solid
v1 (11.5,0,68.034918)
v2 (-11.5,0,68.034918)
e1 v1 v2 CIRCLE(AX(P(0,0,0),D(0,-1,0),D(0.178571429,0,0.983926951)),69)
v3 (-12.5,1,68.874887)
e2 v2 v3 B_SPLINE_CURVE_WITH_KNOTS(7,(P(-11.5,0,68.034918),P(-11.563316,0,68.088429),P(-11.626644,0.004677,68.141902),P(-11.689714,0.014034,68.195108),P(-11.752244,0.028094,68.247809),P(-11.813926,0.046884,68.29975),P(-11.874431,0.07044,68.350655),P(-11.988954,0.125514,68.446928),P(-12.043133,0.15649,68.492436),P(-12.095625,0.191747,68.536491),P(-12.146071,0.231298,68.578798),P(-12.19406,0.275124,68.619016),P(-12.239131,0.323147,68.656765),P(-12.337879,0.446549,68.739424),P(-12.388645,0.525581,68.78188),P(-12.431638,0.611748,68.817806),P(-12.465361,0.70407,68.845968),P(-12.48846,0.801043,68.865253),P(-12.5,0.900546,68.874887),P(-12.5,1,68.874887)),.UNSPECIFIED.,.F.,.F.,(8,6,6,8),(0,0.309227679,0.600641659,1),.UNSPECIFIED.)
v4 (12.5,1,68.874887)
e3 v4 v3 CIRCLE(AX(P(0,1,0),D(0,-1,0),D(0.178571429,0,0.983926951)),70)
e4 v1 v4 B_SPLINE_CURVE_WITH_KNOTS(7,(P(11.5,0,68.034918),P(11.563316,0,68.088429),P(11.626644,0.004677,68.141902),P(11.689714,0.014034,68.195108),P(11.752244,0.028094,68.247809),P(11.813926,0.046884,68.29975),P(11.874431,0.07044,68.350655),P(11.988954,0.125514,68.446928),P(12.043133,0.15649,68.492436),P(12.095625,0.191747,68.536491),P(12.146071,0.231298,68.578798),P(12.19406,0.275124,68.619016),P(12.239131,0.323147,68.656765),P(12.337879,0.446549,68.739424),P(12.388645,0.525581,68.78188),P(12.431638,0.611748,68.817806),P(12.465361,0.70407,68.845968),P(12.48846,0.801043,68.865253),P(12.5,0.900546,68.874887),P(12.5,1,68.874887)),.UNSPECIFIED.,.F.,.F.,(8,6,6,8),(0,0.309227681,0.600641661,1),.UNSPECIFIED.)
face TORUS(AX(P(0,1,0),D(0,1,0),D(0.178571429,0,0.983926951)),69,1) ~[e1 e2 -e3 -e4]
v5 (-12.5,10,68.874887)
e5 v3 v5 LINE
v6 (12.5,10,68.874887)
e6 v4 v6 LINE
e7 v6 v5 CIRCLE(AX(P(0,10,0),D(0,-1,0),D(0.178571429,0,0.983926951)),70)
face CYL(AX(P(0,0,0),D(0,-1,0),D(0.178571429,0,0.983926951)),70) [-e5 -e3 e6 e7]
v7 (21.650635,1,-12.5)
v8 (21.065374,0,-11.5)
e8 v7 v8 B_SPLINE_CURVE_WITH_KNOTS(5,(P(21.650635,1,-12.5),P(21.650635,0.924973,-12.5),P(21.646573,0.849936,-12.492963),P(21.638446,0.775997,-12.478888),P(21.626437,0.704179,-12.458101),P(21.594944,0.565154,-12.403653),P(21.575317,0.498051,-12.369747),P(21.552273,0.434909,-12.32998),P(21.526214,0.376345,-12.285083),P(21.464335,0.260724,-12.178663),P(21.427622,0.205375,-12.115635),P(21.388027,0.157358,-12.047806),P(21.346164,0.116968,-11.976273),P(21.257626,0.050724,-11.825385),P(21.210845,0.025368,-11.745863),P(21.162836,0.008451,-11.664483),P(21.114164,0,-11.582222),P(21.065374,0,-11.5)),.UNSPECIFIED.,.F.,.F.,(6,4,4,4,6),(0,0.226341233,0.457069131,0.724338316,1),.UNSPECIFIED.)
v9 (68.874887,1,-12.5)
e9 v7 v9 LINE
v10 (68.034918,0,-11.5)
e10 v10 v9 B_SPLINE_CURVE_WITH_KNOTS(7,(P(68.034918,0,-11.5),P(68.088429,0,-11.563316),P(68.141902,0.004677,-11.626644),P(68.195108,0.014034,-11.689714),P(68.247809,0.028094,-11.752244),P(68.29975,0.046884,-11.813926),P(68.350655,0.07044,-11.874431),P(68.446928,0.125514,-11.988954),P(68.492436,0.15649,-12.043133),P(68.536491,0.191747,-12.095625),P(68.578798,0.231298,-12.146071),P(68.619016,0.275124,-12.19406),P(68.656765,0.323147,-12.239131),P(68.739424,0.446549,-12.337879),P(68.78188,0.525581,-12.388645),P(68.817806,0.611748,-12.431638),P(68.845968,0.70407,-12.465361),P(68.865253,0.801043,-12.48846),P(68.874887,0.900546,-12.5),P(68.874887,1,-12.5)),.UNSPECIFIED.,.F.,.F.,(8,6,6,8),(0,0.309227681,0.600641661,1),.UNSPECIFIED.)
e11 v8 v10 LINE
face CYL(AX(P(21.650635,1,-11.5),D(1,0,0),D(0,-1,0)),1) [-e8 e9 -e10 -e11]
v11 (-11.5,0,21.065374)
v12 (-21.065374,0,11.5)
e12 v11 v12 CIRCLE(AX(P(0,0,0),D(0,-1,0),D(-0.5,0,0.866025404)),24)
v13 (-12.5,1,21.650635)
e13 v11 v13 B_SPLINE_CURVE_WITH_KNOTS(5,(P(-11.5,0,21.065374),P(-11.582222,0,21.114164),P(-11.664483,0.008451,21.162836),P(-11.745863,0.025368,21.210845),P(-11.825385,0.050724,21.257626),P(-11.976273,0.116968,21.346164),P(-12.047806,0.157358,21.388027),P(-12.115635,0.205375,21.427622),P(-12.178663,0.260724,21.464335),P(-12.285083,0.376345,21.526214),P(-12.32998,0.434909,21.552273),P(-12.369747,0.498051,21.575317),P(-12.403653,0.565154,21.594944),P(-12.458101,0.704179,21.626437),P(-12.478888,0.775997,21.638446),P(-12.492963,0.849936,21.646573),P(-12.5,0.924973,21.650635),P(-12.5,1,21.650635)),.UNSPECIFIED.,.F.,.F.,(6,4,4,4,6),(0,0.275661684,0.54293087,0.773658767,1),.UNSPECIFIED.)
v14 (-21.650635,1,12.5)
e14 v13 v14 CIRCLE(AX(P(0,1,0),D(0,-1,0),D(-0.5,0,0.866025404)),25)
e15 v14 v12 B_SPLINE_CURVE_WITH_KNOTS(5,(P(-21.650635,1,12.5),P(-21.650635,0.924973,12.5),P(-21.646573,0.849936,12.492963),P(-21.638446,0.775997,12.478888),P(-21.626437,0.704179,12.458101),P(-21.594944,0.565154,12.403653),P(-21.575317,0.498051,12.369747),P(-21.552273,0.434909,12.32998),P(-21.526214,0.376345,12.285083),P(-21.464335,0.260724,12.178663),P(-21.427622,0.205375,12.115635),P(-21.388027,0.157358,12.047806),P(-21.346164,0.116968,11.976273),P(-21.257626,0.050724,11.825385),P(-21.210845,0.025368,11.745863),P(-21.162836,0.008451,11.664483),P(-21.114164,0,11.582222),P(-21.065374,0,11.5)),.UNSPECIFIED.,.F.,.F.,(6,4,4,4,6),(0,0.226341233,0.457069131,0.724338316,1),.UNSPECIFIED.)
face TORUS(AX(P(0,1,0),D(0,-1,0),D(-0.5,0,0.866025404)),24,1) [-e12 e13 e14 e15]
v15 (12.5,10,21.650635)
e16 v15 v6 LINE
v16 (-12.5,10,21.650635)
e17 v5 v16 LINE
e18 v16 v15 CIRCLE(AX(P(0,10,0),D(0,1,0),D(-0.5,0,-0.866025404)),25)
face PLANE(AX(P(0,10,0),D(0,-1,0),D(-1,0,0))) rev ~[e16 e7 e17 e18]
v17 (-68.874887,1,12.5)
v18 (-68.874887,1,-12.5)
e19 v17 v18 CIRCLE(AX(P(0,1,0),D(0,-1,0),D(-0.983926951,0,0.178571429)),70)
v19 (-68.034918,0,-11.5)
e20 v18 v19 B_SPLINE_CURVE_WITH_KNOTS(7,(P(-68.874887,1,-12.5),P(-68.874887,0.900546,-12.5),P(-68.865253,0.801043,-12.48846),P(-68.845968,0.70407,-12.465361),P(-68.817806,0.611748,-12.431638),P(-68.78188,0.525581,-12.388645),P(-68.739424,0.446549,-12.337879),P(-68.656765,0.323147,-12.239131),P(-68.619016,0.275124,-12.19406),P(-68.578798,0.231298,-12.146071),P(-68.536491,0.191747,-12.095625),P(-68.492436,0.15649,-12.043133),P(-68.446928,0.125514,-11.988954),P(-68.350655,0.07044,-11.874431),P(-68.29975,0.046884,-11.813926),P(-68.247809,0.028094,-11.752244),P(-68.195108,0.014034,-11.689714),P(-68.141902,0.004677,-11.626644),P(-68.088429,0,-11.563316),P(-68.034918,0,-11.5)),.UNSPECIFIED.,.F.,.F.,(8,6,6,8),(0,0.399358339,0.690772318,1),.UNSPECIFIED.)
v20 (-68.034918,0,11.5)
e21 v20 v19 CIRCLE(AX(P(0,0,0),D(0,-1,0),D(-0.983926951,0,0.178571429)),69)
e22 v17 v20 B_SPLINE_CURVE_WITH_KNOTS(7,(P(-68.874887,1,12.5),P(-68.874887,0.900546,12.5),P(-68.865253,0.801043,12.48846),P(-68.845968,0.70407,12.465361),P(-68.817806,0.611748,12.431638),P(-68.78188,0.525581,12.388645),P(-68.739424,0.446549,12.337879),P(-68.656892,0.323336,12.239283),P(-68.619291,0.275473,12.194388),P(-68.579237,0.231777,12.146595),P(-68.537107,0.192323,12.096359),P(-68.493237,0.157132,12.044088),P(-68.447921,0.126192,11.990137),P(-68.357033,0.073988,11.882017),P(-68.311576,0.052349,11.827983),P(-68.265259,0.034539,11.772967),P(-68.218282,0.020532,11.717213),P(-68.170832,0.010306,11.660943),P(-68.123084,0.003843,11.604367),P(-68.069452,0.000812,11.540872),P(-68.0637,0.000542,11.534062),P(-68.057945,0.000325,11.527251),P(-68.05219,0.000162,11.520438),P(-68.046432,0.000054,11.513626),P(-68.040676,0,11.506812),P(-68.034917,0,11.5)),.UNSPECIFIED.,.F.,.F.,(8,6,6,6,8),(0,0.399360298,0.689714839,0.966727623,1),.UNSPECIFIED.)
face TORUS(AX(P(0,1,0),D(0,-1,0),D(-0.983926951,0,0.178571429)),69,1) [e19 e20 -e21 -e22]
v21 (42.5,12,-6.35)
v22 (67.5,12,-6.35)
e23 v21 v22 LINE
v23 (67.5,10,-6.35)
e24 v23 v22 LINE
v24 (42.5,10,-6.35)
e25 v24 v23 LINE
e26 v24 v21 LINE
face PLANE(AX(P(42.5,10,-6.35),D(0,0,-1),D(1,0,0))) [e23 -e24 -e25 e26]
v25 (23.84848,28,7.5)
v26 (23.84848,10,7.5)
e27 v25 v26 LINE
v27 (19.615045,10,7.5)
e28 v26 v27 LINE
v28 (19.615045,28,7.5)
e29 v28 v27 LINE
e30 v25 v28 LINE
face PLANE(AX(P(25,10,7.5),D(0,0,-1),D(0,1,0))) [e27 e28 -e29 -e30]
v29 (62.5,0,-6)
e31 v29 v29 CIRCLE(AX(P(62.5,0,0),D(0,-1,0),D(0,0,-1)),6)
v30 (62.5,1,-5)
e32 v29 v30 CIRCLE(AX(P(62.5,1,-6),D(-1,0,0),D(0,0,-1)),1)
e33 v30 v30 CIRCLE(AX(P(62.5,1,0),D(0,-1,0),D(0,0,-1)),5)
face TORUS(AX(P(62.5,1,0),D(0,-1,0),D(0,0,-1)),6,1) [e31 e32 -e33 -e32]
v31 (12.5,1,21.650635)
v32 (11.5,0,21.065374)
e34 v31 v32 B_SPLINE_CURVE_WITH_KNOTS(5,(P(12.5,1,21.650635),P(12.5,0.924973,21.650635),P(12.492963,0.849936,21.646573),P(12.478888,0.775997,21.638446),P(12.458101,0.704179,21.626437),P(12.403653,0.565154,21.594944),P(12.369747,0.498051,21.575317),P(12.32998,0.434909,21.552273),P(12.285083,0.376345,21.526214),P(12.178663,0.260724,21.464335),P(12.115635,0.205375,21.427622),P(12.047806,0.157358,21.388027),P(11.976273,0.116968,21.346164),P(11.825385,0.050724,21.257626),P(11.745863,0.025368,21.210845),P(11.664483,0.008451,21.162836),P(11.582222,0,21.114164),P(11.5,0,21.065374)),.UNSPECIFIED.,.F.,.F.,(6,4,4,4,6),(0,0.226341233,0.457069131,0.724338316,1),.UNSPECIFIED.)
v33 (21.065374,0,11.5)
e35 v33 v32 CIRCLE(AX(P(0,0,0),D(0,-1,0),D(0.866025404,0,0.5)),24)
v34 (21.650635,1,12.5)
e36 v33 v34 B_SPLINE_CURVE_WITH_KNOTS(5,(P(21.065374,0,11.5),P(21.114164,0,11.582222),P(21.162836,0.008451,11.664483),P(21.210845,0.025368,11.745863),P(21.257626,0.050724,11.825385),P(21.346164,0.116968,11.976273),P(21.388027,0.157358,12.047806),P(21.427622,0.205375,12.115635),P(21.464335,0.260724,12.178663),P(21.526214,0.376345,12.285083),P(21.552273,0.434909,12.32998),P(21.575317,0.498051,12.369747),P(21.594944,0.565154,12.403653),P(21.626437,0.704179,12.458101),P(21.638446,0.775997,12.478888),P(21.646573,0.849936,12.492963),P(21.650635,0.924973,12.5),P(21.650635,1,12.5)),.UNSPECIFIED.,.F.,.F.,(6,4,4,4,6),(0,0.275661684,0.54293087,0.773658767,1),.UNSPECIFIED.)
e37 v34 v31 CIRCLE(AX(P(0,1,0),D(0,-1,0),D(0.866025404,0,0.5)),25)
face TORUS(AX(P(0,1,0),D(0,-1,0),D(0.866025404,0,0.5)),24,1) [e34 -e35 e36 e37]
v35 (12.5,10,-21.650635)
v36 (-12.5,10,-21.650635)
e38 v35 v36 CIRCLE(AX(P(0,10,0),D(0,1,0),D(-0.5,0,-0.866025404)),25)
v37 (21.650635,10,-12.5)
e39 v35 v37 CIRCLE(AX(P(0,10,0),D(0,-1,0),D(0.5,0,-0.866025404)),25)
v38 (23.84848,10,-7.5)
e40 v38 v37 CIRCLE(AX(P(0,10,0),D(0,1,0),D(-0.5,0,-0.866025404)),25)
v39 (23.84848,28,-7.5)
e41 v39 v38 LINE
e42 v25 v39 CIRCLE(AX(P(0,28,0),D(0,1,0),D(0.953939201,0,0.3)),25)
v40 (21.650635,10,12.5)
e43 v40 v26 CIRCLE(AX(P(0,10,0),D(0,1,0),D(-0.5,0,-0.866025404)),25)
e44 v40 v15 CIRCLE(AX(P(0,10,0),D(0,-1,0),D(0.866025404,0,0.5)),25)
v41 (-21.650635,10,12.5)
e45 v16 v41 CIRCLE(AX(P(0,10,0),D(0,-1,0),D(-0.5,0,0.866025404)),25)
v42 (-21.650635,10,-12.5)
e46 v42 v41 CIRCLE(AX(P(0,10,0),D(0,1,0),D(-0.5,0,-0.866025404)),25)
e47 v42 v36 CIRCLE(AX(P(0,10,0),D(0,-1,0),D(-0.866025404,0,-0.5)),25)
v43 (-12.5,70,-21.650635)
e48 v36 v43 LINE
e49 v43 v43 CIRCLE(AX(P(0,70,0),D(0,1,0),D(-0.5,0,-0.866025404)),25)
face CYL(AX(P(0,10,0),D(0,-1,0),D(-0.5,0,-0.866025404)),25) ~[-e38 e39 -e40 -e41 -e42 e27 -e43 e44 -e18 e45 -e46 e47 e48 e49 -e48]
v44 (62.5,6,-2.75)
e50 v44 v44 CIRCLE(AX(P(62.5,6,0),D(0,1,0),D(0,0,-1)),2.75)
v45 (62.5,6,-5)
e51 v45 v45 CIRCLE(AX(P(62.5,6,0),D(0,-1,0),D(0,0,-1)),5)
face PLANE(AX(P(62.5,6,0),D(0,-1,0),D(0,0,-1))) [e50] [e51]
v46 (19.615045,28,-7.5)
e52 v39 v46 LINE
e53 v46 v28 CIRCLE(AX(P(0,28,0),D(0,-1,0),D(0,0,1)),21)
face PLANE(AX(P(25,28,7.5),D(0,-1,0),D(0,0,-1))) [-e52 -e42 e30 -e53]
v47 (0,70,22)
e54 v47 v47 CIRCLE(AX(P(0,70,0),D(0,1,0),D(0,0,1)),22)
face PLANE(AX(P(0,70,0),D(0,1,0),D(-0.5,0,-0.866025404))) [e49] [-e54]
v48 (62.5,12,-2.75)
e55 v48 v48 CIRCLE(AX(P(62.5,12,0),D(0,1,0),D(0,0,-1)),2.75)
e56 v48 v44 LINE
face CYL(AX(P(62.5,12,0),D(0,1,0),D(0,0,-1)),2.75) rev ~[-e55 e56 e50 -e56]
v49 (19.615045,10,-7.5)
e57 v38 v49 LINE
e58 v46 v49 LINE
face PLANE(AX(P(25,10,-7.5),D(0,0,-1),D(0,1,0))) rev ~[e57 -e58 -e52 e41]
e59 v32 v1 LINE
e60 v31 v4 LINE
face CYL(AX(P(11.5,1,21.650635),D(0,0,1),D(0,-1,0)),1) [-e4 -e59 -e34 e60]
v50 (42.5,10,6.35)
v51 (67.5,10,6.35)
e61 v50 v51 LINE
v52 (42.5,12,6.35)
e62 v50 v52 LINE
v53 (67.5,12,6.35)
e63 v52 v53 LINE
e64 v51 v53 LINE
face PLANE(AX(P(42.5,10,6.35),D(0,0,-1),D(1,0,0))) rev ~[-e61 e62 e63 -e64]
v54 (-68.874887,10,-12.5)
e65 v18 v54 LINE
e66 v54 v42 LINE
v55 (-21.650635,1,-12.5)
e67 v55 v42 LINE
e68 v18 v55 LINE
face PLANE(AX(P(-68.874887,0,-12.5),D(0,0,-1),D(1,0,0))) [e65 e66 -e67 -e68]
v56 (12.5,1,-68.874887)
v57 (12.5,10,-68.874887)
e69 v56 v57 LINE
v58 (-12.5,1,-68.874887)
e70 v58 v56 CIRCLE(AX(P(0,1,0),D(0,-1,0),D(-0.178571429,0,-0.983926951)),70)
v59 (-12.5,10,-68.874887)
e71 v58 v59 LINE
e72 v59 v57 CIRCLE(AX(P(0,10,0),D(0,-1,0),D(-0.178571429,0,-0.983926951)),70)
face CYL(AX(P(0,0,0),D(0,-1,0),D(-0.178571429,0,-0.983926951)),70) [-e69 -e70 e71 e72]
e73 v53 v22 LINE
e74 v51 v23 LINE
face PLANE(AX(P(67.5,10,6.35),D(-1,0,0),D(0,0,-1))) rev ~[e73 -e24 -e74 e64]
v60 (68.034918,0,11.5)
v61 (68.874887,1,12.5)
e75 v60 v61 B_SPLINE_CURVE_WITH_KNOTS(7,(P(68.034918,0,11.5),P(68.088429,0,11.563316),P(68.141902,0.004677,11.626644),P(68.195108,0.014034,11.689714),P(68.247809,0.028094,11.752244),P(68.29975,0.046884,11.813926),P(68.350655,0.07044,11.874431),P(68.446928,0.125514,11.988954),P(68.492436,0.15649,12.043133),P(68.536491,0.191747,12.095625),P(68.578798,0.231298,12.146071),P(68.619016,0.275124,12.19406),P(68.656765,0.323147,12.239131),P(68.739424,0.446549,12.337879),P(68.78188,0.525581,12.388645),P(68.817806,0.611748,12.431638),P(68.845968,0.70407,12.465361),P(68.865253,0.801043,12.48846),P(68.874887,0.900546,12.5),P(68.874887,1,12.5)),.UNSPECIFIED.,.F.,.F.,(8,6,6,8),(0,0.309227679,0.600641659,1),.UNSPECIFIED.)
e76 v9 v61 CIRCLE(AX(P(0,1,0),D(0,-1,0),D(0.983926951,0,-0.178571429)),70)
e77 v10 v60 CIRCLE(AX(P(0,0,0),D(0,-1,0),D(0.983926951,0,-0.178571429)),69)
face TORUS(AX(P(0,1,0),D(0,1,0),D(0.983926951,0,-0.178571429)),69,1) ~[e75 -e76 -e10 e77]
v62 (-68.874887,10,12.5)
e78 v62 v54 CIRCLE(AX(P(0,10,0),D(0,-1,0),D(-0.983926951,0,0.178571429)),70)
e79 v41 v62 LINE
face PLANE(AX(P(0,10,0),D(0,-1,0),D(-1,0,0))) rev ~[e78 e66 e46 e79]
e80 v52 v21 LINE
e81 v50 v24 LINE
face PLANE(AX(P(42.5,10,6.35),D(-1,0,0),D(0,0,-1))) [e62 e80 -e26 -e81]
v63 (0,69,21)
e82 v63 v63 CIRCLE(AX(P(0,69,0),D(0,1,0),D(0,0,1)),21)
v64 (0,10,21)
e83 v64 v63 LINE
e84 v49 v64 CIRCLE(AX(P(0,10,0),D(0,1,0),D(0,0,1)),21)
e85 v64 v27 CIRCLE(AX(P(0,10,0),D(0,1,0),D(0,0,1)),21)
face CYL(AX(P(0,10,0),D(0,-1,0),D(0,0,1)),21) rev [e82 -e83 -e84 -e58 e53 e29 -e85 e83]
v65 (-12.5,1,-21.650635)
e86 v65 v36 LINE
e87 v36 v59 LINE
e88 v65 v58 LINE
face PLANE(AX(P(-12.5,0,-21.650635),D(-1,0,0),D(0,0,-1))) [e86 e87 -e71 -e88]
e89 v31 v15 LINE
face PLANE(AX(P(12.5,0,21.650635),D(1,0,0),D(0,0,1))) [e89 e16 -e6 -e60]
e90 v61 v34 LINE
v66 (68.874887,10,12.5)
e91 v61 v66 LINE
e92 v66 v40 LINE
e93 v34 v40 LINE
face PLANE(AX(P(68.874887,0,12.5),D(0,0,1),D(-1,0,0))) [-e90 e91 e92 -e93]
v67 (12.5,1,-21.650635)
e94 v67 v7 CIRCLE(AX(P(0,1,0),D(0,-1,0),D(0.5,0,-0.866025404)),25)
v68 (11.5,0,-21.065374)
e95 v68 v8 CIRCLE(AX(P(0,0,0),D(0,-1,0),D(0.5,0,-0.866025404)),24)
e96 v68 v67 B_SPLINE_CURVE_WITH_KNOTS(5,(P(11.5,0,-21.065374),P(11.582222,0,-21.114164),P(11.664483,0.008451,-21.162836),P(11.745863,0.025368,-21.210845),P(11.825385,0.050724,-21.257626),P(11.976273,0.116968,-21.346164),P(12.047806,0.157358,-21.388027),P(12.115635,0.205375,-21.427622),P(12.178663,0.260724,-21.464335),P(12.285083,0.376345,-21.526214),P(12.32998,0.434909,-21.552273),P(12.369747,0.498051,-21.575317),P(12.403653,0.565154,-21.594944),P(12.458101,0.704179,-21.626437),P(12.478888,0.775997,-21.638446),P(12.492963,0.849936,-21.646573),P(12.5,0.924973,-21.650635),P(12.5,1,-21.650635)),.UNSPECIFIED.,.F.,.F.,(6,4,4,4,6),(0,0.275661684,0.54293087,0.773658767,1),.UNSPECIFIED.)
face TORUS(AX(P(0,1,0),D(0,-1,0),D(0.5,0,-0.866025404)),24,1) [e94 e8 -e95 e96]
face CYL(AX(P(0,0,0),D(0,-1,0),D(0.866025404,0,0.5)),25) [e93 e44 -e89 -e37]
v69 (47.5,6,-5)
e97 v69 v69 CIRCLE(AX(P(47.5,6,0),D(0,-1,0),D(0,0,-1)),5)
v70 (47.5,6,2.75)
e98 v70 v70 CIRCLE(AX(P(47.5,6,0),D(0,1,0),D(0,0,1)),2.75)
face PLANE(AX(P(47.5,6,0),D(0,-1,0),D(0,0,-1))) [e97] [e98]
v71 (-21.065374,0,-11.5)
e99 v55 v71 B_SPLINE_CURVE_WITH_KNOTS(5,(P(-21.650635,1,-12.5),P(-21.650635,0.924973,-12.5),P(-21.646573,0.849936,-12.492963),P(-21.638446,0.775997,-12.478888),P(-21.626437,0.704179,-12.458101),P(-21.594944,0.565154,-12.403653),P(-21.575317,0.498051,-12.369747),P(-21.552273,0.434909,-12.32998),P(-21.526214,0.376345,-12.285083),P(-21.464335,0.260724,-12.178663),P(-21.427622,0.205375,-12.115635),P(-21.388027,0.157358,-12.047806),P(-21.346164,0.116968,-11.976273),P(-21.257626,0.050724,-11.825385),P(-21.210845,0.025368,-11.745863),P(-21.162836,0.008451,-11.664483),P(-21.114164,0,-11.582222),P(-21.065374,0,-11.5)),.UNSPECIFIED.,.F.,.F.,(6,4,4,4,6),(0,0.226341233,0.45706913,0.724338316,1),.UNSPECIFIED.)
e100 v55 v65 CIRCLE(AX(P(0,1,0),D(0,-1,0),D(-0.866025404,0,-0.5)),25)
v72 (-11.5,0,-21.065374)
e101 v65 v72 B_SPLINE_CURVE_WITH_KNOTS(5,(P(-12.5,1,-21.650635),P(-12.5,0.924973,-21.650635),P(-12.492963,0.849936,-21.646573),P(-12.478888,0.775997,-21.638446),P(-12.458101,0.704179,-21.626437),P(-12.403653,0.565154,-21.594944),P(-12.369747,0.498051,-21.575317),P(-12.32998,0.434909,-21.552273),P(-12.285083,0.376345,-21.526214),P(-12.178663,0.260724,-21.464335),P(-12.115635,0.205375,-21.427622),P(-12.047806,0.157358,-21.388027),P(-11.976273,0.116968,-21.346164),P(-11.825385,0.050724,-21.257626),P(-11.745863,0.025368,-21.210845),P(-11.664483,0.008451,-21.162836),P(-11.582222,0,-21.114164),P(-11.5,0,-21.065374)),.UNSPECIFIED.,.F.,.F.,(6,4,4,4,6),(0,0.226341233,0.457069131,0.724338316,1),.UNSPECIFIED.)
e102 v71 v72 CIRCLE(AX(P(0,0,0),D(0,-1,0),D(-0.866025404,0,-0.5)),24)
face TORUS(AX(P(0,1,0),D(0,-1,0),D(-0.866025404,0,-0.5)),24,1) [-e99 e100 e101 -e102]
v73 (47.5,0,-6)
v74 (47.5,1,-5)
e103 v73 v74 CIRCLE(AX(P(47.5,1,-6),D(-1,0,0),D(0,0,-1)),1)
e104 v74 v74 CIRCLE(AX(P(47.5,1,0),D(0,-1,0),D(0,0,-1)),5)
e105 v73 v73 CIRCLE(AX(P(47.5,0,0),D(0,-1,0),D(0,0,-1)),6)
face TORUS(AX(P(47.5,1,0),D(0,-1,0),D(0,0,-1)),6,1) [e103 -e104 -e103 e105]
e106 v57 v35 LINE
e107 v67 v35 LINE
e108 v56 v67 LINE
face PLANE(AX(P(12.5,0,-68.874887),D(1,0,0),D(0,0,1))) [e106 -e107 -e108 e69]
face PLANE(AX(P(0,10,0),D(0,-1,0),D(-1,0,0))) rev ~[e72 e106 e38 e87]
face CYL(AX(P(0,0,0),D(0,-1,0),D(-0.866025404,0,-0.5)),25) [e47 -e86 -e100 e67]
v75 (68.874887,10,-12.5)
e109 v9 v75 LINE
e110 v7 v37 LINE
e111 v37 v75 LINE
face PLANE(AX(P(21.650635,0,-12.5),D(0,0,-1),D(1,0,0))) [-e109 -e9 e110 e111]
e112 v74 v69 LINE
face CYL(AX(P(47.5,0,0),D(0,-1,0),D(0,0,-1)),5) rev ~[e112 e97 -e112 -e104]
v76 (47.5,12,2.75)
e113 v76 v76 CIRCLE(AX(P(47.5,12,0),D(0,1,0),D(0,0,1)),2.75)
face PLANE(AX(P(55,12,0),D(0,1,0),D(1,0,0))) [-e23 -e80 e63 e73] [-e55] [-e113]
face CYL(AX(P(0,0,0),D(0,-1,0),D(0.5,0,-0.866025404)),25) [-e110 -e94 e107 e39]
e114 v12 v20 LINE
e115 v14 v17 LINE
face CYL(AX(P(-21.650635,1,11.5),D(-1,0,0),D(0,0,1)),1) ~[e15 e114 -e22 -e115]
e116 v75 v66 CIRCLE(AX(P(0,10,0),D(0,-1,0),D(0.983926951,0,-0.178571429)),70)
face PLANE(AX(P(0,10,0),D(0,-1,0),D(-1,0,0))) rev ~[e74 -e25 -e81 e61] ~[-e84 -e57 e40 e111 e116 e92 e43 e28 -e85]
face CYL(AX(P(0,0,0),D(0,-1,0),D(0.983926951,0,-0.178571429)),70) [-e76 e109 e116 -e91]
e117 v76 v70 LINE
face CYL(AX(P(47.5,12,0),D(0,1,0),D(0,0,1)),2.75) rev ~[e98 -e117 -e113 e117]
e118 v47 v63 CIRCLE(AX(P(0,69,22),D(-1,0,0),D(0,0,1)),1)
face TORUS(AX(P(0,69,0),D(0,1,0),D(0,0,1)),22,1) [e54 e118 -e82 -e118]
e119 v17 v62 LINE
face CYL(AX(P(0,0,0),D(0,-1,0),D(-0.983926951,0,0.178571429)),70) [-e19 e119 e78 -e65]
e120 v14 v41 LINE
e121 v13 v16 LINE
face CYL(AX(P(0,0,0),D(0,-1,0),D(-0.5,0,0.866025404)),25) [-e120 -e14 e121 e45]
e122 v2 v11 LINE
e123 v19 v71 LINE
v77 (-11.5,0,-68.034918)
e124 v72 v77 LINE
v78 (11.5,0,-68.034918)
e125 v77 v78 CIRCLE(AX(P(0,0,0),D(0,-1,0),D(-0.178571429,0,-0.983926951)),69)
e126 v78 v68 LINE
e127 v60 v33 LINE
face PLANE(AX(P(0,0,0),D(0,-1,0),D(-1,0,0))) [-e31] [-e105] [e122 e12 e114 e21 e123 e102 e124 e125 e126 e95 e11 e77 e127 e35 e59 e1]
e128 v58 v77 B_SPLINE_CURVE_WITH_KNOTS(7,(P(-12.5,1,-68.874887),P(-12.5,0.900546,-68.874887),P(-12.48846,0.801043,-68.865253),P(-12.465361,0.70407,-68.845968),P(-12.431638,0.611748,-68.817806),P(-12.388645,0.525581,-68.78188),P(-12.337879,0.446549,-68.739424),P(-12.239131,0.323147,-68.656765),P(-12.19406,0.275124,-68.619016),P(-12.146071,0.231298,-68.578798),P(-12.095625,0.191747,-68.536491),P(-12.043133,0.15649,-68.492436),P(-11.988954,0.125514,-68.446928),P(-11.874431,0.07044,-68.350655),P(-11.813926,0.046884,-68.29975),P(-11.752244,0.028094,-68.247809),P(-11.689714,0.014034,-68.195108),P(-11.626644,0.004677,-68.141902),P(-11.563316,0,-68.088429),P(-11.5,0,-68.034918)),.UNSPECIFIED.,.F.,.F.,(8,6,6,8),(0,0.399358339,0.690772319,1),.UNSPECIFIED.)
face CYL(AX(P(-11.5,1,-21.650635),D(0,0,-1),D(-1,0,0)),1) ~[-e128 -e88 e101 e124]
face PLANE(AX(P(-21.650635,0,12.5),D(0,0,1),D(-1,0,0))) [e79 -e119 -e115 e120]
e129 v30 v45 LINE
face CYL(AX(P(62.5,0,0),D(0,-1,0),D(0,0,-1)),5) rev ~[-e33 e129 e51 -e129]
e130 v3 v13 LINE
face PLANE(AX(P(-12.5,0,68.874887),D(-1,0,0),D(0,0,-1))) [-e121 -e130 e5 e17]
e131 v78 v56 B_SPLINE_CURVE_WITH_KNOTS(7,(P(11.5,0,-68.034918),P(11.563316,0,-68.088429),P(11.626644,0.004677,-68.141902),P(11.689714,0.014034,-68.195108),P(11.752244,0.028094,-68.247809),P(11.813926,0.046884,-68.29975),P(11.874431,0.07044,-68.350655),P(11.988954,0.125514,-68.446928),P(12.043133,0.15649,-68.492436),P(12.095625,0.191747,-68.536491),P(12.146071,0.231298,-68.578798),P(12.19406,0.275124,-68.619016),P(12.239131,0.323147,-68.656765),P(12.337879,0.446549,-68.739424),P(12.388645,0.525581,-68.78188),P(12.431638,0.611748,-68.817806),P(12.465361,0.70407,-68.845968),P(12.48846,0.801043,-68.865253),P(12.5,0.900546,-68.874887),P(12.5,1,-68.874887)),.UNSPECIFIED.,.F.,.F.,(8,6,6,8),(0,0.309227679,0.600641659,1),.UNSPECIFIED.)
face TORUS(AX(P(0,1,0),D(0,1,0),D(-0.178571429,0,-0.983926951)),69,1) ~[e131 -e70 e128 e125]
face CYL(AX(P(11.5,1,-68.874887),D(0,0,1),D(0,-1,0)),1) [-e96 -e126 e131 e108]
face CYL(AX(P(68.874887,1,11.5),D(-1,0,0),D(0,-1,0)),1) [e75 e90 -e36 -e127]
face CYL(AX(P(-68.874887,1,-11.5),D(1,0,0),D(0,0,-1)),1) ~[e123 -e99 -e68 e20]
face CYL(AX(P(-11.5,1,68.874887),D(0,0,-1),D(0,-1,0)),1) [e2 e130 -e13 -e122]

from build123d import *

# Parameters (mm, degrees)
BOSS_EXTRUDE1_DEPTH = 10
SKETCH2_R           = 25
SKETCH2_R_2         = 21
BOSS_EXTRUDE2_DEPTH = 60
SKETCH3_W           = 15
SKETCH3_H           = 18
CUT_EXTRUDE1_DEPTH  = 10
SKETCH4_W           = 25
SKETCH4_H           = 12.7
BOSS_EXTRUDE3_DEPTH = 2
SKETCH5_R           = 2.75
CUT_EXTRUDE2_DEPTH  = 115.734476074
SKETCH6_R           = 5
CUT_EXTRUDE3_DEPTH  = 6
FILLET1_R           = 1


with BuildPart() as part:
    # Sketch1 → Boss-Extrude1 (new body)
    with BuildSketch(Plane(origin=(0, 0, 0), x_dir=(1, 0, 0), z_dir=(0, 1, 0))):
        with BuildLine():
            Line((-68.87488657, 12.5), (-21.650635095, 12.5))
            ThreePointArc((-21.650635095, 12.5), (-17.67766953, 17.67766953), (-12.5, 21.650635095))
            Line((-12.5, 21.650635095), (-12.5, 68.87488657))
            ThreePointArc((-12.5, 68.87488657), (0, 70), (12.5, 68.87488657))
            Line((12.5, 68.87488657), (12.5, 21.650635095))
            ThreePointArc((12.5, 21.650635095), (17.67766953, 17.67766953), (21.650635095, 12.5))
            Line((21.650635095, 12.5), (68.87488657, 12.5))
            ThreePointArc((68.87488657, 12.5), (70, 0), (68.87488657, -12.5))
            Line((68.87488657, -12.5), (21.650635095, -12.5))
            ThreePointArc((21.650635095, -12.5), (17.67766953, -17.67766953), (12.5, -21.650635095))
            Line((12.5, -21.650635095), (12.5, -68.87488657))
            ThreePointArc((12.5, -68.87488657), (0, -70), (-12.5, -68.87488657))
            Line((-12.5, -68.87488657), (-12.5, -21.650635095))
            ThreePointArc((-12.5, -21.650635095), (-17.67766953, -17.67766953), (-21.650635095, -12.5))
            Line((-21.650635095, -12.5), (-68.87488657, -12.5))
            ThreePointArc((-68.87488657, -12.5), (-70, 0), (-68.87488657, 12.5))
        make_face()
    extrude(amount=BOSS_EXTRUDE1_DEPTH)

    # Sketch2 → Boss-Extrude2 (add)
    with BuildSketch(Plane(origin=(0, 10, 0), x_dir=(1, 0, 0), z_dir=(0, 1, 0))):
        with Locations(Location((0, 0, 0), (0, 0, 120))):
            Circle(SKETCH2_R)
        with Locations(Location((0, 0, 0), (0, 0, 270))):
            Circle(SKETCH2_R_2, mode=Mode.SUBTRACT)
    extrude(amount=BOSS_EXTRUDE2_DEPTH)

    # Sketch3 → Cut-Extrude1 (cut)
    with BuildSketch(Plane(origin=(25, 0, 0), x_dir=(0, 0, -1), z_dir=(1, 0, 0))):
        with Locations((0, 19)):
            Rectangle(SKETCH3_W, SKETCH3_H)
    extrude(amount=-CUT_EXTRUDE1_DEPTH, mode=Mode.SUBTRACT)

    # Sketch4 → Boss-Extrude3 (add)
    with BuildSketch(Plane(origin=(0, 10, 0), x_dir=(1, 0, 0), z_dir=(0, 1, 0))):
        with Locations((55, 0)):
            Rectangle(SKETCH4_W, SKETCH4_H)
    extrude(amount=BOSS_EXTRUDE3_DEPTH)

    # Sketch5 → Cut-Extrude2 (cut, through all)
    with BuildSketch(Plane(origin=(0, 12, 0), x_dir=(1, 0, 0), z_dir=(0, 1, 0))):
        with Locations(Location((47.5, 0, 0), (0, 0, 270))):
            Circle(SKETCH5_R)
        with Locations(Location((62.5, 0, 0), (0, 0, 90))):
            Circle(SKETCH5_R)
    extrude(amount=-CUT_EXTRUDE2_DEPTH, mode=Mode.SUBTRACT)

    # Sketch6 → Cut-Extrude3 (cut)
    with BuildSketch(Plane.XZ):
        with Locations(Location((47.5, 0, 0), (0, 0, 270))):
            Circle(SKETCH6_R)
        with Locations(Location((62.5, 0, 0), (0, 0, 270))):
            Circle(SKETCH6_R)
    extrude(amount=-CUT_EXTRUDE3_DEPTH, mode=Mode.SUBTRACT)

    # Fillet1
    fillet1_edges = [part.edges().sort_by_distance(p)[0] for p in [
        (47.5, 0, 5),
        (62.5, 0, 5),
        (-45.262760832, 0, -12.5),
        (-17.67766953, 0, -17.67766953),
        (-12.5, 0, -45.262760832),
        (0, 0, -70),
        (12.5, 0, -45.262760832),
        (17.67766953, 0, -17.67766953),
        (45.262760832, 0, -12.5),
        (70, 0, 0),
        (45.262760832, 0, 12.5),
        (17.67766953, 0, 17.67766953),
        (12.5, 0, 45.262760832),
        (0, 0, 70),
        (-12.5, 0, 45.262760832),
        (-17.67766953, 0, 17.67766953),
        (-45.262760832, 0, 12.5),
        (-70, 0, 0),
        (0, 70, -21),
    ]]
    fillet(fillet1_edges, radius=FILLET1_R)


solid = part.part
